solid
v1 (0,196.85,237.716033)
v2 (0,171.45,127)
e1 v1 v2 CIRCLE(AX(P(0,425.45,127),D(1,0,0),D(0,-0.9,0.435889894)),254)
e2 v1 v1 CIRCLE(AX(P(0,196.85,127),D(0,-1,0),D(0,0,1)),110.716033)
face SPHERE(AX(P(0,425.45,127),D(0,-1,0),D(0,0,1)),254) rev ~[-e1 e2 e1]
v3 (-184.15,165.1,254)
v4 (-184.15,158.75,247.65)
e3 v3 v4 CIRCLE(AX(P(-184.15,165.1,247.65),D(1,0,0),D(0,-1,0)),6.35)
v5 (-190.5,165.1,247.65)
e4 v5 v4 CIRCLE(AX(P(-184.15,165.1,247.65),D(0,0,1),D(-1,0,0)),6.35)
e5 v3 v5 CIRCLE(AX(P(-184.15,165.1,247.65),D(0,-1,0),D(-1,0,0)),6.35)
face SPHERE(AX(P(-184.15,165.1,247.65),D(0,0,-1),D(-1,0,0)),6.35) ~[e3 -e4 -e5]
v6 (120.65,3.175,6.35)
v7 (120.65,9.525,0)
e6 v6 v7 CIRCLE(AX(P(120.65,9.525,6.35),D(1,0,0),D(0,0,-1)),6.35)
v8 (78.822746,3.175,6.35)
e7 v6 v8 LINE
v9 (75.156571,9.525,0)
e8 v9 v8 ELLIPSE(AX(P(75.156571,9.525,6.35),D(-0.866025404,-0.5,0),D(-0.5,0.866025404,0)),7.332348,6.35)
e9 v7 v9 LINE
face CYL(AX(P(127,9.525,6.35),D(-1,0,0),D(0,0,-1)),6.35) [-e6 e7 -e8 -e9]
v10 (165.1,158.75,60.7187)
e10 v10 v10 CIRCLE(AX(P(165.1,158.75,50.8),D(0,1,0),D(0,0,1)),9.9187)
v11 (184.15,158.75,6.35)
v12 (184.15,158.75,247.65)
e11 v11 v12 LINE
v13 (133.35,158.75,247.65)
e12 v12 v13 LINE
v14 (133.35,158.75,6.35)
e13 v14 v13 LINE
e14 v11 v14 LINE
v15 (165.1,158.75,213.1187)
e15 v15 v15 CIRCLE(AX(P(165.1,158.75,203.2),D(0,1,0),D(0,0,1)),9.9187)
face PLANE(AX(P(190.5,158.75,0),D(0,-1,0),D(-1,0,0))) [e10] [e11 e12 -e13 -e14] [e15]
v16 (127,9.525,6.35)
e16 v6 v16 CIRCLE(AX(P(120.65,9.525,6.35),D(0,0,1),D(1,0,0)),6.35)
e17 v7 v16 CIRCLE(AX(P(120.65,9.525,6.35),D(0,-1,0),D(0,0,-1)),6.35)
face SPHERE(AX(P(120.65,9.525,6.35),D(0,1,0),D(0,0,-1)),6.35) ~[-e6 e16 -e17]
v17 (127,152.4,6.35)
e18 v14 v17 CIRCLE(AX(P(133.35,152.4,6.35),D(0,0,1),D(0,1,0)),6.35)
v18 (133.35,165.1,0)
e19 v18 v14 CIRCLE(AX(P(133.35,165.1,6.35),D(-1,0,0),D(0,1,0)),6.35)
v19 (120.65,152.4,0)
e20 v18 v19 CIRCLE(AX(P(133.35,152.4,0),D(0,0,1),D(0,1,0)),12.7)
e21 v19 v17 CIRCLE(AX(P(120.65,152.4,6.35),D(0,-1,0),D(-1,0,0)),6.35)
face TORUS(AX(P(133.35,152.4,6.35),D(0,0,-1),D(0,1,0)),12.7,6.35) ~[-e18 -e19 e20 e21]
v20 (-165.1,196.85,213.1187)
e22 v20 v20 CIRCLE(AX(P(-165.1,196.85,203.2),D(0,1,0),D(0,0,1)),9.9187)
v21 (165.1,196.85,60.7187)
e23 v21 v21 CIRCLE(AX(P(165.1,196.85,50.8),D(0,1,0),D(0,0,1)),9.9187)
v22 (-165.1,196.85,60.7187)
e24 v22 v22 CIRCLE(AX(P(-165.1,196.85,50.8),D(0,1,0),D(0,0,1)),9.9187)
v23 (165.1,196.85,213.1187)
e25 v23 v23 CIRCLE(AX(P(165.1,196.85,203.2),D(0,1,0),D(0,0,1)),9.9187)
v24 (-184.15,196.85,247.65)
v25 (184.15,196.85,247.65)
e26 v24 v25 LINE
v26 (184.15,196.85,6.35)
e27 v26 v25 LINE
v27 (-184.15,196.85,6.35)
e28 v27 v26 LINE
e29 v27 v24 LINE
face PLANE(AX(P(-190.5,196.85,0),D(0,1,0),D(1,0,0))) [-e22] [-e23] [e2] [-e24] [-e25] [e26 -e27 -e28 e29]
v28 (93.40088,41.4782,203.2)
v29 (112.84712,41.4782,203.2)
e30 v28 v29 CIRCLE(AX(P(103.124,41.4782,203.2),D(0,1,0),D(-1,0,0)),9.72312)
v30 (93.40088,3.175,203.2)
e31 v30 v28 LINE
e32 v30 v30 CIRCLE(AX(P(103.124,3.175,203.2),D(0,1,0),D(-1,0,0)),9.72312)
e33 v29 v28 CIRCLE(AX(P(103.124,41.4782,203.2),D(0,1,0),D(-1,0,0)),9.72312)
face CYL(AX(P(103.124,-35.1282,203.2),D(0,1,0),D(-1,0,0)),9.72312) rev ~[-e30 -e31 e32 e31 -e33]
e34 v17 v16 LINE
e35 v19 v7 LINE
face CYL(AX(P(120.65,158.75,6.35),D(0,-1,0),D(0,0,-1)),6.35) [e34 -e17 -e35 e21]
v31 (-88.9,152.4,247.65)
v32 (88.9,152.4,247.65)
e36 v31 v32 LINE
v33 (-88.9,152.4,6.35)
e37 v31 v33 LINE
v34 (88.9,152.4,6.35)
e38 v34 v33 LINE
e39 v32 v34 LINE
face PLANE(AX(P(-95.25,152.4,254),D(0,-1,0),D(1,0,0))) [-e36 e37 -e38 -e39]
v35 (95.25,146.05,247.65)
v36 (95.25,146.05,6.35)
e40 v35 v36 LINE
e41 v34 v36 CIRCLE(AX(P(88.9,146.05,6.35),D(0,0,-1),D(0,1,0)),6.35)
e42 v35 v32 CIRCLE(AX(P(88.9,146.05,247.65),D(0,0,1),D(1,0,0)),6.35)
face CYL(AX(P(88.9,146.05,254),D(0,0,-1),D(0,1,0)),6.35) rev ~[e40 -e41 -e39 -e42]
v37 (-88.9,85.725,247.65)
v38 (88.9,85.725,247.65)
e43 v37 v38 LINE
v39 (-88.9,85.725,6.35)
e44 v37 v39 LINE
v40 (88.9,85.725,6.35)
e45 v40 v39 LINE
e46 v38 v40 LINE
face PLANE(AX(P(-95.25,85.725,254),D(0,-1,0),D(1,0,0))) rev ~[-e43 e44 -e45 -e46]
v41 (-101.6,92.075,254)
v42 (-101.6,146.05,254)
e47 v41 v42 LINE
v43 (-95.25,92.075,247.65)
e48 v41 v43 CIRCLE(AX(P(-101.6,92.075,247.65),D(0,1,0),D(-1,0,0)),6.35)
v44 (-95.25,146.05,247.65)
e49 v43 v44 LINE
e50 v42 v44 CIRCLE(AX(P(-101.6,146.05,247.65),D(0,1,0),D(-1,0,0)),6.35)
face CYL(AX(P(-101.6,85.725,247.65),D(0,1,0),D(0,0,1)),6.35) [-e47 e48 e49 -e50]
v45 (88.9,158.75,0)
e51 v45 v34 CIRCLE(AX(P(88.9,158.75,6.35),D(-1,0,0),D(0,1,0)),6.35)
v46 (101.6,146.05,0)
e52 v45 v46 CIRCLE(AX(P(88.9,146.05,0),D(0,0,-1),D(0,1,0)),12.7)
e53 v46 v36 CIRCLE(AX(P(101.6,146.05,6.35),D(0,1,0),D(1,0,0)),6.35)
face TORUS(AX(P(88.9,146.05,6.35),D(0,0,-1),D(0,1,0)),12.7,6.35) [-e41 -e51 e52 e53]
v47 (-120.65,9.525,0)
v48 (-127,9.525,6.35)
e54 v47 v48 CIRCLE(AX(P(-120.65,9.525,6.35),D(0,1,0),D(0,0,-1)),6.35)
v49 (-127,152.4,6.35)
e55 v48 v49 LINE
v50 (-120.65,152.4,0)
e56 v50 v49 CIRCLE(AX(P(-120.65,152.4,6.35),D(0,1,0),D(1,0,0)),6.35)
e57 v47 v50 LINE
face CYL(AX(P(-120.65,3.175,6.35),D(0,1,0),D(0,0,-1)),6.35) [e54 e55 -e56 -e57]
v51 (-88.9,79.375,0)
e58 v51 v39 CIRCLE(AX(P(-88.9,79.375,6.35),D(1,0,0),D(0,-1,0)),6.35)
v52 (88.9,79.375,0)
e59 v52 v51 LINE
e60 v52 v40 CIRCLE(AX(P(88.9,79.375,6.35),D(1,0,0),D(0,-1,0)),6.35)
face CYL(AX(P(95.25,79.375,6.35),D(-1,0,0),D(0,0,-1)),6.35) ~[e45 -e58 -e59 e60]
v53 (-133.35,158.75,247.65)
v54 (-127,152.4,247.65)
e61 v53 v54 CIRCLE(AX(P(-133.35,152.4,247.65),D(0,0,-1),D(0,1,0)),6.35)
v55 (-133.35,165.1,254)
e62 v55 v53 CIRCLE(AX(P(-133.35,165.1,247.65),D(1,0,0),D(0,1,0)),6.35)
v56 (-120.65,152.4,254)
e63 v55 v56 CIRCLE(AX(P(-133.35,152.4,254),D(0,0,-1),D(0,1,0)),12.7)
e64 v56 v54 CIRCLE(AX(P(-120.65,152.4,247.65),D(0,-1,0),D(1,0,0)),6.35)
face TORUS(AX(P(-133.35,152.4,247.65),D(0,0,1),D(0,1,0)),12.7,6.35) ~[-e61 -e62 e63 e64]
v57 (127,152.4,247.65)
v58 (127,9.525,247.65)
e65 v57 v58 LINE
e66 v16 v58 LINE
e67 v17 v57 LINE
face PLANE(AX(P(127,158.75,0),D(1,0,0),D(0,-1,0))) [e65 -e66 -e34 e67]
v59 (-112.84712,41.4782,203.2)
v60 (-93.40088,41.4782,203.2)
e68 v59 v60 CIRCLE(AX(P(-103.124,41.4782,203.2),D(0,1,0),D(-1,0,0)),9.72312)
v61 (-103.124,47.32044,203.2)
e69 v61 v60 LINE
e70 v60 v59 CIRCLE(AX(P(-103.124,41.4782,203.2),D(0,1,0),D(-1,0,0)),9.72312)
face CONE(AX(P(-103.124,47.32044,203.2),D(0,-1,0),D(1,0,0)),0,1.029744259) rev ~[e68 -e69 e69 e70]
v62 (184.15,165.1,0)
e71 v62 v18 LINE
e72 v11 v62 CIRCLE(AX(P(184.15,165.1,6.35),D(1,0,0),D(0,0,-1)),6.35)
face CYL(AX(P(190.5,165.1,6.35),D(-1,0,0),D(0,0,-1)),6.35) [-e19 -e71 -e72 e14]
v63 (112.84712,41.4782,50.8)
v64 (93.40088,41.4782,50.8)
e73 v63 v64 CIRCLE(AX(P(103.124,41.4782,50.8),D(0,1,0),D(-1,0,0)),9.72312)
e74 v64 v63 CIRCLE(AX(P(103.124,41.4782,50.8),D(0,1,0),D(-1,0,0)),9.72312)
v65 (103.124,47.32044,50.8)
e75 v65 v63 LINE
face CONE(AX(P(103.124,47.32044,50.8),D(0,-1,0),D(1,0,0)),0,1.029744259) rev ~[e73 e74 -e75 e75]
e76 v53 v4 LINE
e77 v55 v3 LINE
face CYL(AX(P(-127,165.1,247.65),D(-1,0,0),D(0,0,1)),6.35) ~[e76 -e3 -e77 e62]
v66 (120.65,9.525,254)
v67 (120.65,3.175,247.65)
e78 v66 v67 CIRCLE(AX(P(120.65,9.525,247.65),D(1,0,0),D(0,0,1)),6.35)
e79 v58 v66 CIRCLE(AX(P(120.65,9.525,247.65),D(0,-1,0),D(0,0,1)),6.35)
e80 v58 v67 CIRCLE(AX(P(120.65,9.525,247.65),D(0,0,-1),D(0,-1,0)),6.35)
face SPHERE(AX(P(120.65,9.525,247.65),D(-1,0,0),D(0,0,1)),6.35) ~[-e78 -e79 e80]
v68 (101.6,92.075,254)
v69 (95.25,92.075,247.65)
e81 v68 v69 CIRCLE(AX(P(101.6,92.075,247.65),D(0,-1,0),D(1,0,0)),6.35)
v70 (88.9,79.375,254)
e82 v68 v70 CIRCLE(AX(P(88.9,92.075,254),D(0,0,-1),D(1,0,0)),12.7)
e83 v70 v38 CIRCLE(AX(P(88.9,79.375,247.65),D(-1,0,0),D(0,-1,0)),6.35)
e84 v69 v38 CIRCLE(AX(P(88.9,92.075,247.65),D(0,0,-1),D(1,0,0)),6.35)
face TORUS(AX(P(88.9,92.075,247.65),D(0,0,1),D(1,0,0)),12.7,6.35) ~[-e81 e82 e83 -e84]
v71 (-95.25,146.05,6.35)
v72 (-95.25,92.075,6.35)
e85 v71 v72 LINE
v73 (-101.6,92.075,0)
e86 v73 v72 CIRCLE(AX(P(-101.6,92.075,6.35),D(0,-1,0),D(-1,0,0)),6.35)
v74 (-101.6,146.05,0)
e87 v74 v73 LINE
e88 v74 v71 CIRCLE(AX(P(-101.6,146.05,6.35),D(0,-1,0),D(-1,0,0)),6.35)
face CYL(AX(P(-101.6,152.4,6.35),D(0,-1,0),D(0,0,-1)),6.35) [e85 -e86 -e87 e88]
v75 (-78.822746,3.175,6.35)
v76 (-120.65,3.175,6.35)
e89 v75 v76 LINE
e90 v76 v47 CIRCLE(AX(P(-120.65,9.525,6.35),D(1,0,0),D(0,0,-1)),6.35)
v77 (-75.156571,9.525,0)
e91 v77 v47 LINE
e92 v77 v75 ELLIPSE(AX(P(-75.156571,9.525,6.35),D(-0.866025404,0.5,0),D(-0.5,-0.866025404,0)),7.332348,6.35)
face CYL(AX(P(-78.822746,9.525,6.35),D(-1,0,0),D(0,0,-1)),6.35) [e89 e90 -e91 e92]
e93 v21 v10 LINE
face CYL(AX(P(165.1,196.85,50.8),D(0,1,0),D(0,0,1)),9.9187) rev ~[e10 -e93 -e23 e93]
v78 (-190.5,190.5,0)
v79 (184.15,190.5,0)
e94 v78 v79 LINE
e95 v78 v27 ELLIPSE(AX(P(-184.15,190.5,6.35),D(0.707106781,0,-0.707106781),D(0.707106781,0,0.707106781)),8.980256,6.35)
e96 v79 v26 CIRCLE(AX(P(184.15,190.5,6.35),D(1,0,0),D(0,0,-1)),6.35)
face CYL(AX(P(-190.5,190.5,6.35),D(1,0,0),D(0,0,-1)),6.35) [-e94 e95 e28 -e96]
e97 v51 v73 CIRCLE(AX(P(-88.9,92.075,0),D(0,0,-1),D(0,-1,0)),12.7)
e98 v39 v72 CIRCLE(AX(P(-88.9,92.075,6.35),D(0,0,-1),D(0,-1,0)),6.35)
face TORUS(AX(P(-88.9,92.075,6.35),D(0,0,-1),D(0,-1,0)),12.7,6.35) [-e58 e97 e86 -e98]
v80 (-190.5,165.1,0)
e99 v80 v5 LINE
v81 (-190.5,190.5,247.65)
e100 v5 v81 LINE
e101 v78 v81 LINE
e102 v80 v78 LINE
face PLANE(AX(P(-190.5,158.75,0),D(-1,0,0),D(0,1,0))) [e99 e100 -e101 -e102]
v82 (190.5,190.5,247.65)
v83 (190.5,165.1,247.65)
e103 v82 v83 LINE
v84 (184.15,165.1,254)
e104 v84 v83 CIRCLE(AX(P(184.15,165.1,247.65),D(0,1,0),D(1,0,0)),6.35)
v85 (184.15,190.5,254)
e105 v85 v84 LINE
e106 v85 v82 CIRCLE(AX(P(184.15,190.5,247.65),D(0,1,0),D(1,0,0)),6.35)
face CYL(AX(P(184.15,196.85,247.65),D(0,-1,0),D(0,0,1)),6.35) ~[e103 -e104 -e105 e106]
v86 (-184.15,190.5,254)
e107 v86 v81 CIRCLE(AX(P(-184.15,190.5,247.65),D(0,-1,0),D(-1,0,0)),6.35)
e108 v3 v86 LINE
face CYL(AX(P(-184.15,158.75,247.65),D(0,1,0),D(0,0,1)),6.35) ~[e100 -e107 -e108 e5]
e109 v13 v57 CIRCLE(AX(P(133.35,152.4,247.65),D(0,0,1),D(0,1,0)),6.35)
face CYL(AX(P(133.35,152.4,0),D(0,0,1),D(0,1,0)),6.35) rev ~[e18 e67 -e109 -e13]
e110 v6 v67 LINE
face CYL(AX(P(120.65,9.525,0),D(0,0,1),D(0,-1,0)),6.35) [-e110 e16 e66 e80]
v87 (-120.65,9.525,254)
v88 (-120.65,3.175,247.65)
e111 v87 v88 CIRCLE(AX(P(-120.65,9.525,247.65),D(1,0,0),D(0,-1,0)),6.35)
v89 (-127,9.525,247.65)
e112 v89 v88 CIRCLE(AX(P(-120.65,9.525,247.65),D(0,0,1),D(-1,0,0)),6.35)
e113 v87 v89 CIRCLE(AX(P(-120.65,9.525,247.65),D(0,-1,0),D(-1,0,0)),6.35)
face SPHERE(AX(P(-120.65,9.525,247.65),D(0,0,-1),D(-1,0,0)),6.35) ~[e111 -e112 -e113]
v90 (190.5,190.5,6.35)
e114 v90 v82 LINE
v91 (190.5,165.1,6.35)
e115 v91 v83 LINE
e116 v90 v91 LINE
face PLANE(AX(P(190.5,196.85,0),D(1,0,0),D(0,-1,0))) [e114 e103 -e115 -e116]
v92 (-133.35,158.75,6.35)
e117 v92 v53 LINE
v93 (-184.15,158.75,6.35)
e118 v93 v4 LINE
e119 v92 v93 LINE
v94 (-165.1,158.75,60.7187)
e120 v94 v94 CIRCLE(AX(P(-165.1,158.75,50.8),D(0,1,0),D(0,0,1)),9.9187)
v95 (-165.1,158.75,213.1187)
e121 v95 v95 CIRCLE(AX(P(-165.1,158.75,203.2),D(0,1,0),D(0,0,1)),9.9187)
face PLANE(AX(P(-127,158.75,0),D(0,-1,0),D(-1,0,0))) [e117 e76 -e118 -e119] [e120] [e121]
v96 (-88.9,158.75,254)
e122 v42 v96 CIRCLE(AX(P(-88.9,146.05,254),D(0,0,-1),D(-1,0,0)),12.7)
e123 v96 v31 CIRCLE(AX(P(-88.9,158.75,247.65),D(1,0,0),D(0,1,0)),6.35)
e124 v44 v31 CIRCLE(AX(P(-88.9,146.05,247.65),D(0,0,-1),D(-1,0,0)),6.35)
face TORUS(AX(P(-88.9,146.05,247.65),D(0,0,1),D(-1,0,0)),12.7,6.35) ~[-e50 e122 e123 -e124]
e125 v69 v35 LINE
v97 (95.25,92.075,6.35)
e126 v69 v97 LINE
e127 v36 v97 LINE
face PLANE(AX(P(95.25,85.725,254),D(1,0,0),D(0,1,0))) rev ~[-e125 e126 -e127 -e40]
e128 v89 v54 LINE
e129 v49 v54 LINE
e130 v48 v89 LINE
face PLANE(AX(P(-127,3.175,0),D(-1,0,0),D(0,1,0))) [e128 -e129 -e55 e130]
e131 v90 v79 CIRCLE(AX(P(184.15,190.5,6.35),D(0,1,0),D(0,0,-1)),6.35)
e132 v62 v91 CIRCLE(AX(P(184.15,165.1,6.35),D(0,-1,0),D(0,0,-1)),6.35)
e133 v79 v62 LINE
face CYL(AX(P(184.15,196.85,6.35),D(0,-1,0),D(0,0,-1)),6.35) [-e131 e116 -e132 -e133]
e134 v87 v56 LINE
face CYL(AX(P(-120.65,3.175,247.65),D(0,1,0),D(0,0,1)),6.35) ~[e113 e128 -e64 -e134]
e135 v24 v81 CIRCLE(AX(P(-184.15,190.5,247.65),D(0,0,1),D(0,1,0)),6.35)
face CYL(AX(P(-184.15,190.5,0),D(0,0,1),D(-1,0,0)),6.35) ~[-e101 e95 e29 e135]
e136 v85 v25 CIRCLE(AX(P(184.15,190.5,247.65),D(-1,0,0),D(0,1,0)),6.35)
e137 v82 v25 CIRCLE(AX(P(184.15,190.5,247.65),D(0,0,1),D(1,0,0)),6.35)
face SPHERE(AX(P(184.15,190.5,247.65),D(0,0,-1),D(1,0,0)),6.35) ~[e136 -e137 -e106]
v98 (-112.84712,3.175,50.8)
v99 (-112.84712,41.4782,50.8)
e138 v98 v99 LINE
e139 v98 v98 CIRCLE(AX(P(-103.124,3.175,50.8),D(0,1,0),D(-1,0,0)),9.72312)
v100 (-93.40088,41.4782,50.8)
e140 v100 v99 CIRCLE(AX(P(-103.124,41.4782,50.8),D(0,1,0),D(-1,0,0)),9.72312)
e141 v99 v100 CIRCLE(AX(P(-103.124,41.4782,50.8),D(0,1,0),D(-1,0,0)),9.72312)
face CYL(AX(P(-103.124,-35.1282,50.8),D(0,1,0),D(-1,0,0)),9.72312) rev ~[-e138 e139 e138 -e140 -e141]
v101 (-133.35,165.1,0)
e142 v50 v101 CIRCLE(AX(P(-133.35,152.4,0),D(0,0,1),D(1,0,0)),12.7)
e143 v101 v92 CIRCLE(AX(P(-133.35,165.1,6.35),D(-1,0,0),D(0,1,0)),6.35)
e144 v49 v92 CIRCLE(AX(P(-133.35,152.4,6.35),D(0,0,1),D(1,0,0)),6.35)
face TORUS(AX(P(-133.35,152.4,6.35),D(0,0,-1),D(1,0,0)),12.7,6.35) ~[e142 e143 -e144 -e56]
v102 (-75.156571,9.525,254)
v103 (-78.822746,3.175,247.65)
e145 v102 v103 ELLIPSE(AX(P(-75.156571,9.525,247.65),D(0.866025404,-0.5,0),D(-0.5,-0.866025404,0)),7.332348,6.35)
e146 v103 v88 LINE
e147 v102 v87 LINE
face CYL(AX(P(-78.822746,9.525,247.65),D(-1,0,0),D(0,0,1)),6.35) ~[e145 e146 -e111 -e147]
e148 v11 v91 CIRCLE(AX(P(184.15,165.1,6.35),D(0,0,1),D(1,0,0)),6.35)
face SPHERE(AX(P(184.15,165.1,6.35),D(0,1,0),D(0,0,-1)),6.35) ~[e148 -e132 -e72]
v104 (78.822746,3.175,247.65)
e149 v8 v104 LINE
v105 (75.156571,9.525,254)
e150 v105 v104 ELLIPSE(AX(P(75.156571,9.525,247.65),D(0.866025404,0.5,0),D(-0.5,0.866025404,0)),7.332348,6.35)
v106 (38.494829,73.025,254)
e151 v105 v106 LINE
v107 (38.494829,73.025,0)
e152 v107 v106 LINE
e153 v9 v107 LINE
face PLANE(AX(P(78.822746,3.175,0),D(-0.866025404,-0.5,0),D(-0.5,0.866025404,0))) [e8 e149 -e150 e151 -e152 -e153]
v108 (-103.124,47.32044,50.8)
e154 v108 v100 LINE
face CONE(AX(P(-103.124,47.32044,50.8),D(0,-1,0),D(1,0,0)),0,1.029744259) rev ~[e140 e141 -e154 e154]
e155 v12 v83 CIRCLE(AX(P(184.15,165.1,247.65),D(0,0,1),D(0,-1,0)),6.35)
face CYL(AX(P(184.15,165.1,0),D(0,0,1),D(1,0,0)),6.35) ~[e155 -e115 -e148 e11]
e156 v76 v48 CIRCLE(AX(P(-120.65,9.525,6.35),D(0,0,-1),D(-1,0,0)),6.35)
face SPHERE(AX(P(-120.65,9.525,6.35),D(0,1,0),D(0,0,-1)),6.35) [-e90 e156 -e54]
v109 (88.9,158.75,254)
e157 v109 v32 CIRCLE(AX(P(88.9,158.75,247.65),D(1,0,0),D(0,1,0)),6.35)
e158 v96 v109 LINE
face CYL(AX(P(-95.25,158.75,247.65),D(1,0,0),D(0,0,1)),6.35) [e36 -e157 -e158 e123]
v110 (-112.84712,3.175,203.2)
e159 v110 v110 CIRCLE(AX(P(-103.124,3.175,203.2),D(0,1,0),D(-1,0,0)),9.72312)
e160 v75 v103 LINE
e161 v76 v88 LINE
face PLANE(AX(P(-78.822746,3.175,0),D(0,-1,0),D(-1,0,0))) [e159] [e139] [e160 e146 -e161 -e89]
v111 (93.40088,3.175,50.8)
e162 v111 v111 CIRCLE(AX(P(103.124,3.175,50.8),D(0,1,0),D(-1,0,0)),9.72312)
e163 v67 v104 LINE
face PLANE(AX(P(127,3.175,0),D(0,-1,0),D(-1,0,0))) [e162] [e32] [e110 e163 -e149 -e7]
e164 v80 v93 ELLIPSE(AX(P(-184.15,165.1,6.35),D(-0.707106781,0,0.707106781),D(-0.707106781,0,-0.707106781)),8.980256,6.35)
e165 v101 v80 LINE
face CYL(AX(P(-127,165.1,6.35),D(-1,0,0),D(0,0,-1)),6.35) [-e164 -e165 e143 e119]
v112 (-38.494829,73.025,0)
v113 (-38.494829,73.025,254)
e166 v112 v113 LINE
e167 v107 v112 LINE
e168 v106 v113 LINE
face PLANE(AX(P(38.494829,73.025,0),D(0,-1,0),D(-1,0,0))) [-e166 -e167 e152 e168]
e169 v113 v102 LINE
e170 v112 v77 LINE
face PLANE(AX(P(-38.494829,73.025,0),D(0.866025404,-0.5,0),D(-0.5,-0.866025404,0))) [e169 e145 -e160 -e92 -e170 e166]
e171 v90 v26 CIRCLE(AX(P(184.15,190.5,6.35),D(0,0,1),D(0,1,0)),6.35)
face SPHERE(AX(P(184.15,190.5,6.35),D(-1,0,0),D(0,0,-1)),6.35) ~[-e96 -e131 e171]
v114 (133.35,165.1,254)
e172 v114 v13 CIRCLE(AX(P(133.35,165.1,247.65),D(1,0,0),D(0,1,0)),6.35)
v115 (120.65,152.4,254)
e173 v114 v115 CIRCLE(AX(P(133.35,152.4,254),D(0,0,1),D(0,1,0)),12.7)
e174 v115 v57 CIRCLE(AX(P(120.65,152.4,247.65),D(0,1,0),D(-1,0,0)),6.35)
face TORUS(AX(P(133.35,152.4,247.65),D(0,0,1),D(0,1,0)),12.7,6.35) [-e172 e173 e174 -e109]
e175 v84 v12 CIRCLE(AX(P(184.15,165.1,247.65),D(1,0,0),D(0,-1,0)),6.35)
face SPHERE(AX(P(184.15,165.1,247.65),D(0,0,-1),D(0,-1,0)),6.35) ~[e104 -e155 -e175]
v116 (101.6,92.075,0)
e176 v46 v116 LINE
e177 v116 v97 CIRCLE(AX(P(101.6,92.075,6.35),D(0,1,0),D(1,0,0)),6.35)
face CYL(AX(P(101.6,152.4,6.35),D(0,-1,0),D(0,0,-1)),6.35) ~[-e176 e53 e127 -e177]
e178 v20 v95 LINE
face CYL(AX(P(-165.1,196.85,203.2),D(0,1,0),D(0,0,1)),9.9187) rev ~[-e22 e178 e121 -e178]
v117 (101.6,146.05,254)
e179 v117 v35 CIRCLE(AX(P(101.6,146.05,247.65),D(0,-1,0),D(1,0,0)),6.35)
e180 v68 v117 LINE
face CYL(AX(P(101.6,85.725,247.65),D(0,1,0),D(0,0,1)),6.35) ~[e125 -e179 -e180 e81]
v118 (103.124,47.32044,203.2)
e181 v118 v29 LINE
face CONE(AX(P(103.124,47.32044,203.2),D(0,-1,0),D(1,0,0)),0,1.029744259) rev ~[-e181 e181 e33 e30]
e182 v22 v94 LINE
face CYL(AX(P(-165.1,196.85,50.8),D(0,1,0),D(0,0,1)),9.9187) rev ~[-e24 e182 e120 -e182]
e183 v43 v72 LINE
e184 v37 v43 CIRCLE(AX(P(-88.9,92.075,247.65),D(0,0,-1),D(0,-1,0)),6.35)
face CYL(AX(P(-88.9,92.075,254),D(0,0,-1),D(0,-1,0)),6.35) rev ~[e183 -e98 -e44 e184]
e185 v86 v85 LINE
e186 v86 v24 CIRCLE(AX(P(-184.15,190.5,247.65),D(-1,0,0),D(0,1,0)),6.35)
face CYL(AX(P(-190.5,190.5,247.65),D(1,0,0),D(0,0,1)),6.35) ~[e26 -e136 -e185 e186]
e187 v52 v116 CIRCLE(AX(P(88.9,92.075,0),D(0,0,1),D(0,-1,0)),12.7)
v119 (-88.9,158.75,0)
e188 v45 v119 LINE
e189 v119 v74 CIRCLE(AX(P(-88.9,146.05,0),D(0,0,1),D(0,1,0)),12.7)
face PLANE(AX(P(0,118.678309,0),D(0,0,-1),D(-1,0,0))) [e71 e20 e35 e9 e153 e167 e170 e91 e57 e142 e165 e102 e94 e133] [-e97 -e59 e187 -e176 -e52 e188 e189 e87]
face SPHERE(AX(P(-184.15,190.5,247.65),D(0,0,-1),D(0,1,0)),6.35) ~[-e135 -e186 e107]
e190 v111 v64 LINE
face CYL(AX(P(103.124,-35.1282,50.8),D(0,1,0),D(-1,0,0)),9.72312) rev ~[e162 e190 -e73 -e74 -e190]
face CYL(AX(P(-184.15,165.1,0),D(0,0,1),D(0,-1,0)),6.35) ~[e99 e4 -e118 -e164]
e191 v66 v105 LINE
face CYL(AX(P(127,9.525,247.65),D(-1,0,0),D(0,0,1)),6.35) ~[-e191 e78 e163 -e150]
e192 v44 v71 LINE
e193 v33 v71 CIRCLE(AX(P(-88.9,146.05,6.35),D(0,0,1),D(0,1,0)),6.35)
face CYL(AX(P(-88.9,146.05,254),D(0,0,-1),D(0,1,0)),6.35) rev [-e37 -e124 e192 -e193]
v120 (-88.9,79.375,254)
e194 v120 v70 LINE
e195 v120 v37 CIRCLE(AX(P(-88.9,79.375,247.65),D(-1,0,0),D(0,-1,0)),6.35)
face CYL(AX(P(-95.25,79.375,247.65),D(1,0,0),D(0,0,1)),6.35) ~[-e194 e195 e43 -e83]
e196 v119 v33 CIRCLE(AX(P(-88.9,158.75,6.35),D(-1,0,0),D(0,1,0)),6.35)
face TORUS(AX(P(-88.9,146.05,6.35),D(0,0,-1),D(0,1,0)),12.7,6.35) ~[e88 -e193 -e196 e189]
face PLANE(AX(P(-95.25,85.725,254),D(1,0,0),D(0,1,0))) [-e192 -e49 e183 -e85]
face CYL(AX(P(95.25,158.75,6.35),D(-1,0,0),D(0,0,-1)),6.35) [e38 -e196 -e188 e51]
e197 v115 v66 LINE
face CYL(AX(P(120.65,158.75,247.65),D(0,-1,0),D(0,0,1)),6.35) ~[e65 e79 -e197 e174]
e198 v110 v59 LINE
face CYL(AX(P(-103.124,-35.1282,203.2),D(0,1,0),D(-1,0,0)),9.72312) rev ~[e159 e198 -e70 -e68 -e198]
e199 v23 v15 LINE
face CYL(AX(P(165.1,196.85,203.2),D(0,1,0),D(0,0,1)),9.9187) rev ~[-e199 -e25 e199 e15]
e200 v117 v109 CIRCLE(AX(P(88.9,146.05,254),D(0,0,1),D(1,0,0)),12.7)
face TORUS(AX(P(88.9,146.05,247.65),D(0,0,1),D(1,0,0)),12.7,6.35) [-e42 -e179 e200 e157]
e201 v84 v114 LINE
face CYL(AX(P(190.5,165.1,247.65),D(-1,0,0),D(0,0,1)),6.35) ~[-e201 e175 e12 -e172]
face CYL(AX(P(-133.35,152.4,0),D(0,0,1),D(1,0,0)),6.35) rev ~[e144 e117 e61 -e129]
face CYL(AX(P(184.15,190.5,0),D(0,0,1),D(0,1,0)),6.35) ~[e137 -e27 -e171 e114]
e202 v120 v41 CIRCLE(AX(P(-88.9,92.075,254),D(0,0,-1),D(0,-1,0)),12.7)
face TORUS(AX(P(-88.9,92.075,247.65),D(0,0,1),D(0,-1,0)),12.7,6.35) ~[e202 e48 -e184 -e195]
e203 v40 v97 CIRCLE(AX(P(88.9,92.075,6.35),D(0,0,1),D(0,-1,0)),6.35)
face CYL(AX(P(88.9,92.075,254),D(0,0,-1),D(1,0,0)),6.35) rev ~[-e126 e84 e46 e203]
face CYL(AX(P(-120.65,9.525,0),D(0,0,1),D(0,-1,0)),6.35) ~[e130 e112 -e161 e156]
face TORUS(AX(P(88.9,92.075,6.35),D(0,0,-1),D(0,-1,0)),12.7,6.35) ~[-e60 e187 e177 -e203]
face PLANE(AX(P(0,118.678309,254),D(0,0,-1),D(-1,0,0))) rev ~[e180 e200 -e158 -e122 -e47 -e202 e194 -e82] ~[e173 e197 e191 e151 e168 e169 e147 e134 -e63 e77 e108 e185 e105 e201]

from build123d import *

# Parameters (mm, degrees)
BASE_EXTRUDE_DEPTH                     = 254
SKETCH2_R                              = 9.9187
CUT_EXTRUDE1_DEPTH                     = 194.675
FILLET1_R                              = 6.35
SKETCH6_W                              = 190.5
SKETCH6_H                              = 66.675
CUT_EXTRUDE3_DEPTH                     = 255
FILLET2_R                              = 6.35
TAPPED_HOLE_FOR_3_4_16_HELICOIL1_D     = 19.44624
TAPPED_HOLE_FOR_3_4_16_HELICOIL1_DEPTH = 38.3032
TAPPED_HOLE_FOR_3_4_16_HELICOIL1_TIP   = 5.842239902


with BuildPart() as part:
    # Sketch1 → Base-Extrude (new body)
    with BuildSketch(Plane.XY):
        Polygon((38.494829198, 73.025), (-38.494829198, 73.025), (-78.822745501, 3.175), (-127, 3.175), (-127, 158.75), (-190.5, 158.75), (-190.5, 196.85), (190.5, 196.85), (190.5, 158.75), (127, 158.75), (127, 3.175), (78.822745501, 3.175), align=None)
    extrude(amount=BASE_EXTRUDE_DEPTH)

    # Sketch2 → Cut-Extrude1 (cut, through all)
    with BuildSketch(Plane(origin=(0, 196.85, 0), x_dir=(-1, 0, 0), z_dir=(0, 1, 0))):
        with Locations(Location((-165.1, 50.8, 0), (0, 0, 90))):  # turned: the seam where the file's is
            Circle(SKETCH2_R)
        with Locations(Location((-165.1, 203.2, 0), (0, 0, 90))):  # turned: the seam where the file's is
            Circle(SKETCH2_R)
        with Locations(Location((165.1, 203.2, 0), (0, 0, 90))):  # turned: the seam where the file's is
            Circle(SKETCH2_R)
        with Locations(Location((165.1, 50.8, 0), (0, 0, 90))):  # turned: the seam where the file's is
            Circle(SKETCH2_R)
    extrude(amount=-CUT_EXTRUDE1_DEPTH, mode=Mode.SUBTRACT)

    # Sketch5 → Cut-Revolve1 (revolve, cut)
    with BuildSketch(Plane(origin=(0, 0, 0), x_dir=(0, 0, -1), z_dir=(1, 0, 0)), mode=Mode.PRIVATE) as cut_revolve1_sk:
        with BuildLine():
            Line((-127, 171.45), (-127, 196.85))
            Line((-127, 196.85), (-16.283966834, 196.85))
            ThreePointArc((-16.283966834, 196.85), (-70.203873372, 177.881423642), (-127, 171.45))
        make_face()
    revolve(cut_revolve1_sk.sketch.rotate(Axis((0, 142.323170727, 127), (0, -1, 0)), 180), axis=Axis((0, 142.323170727, 127), (0, -1, 0)), mode=Mode.SUBTRACT)  # turned: the seam where the file's is

    # Fillet1
    fillet1_edges = [part.edges().sort_by_distance(p)[0] for p in [
        (-127, 80.9625, 0),
        (-158.75, 158.75, 0),
        (0, 196.85, 0),
        (190.5, 177.8, 0),
        (158.75, 158.75, 0),
        (127, 80.9625, 0),
        (102.911372751, 3.175, 0),
        (-102.911372751, 3.175, 0),
        (102.911372751, 3.175, 254),
        (127, 80.9625, 254),
        (-127, 3.175, 127),
        (-127, 158.75, 127),
        (-190.5, 158.75, 127),
        (-190.5, 196.85, 127),
        (190.5, 196.85, 127),
        (190.5, 158.75, 127),
        (127, 158.75, 127),
        (127, 3.175, 127),
        (158.75, 158.75, 254),
        (190.5, 177.8, 254),
        (0, 196.85, 254),
        (-190.5, 177.8, 254),
        (-158.75, 158.75, 254),
        (-127, 80.9625, 254),
        (-102.911372751, 3.175, 254),
    ]]
    fillet(fillet1_edges, radius=FILLET1_R)

    # Sketch6 → Cut-Extrude3 (cut, through all)
    with BuildSketch(Plane.XY.offset(254)):
        with Locations((0, 119.0625)):
            Rectangle(SKETCH6_W, SKETCH6_H)
    extrude(amount=-CUT_EXTRUDE3_DEPTH, mode=Mode.SUBTRACT)

    # Fillet2
    fillet2_edges = [part.edges().sort_by_distance(p)[0] for p in [
        (-95.25, 119.0625, 0),
        (-95.25, 85.725, 127),
        (0, 152.4, 254),
        (-95.25, 152.4, 127),
        (95.25, 119.0625, 0),
        (95.25, 152.4, 127),
        (0, 85.725, 254),
        (95.25, 85.725, 127),
        (0, 152.4, 0),
        (0, 85.725, 0),
        (-95.25, 119.0625, 254),
        (95.25, 119.0625, 254),
    ]]
    fillet(fillet2_edges, radius=FILLET2_R)

    # Tapped Hole for 3_4-16 Helicoil1
    with Locations(Plane.XZ.offset(-3.175)):
        with Locations((-103.124, 203.2), (-103.124, 50.8), (103.124, 203.2), (103.124, 50.8)):
            Hole(TAPPED_HOLE_FOR_3_4_16_HELICOIL1_D / 2, depth=TAPPED_HOLE_FOR_3_4_16_HELICOIL1_DEPTH)
            with Locations((0, 0, -(TAPPED_HOLE_FOR_3_4_16_HELICOIL1_DEPTH + TAPPED_HOLE_FOR_3_4_16_HELICOIL1_TIP / 2))):  # 118° drill point
                Cone(0, TAPPED_HOLE_FOR_3_4_16_HELICOIL1_D / 2, TAPPED_HOLE_FOR_3_4_16_HELICOIL1_TIP, mode=Mode.SUBTRACT)


solid = part.part
